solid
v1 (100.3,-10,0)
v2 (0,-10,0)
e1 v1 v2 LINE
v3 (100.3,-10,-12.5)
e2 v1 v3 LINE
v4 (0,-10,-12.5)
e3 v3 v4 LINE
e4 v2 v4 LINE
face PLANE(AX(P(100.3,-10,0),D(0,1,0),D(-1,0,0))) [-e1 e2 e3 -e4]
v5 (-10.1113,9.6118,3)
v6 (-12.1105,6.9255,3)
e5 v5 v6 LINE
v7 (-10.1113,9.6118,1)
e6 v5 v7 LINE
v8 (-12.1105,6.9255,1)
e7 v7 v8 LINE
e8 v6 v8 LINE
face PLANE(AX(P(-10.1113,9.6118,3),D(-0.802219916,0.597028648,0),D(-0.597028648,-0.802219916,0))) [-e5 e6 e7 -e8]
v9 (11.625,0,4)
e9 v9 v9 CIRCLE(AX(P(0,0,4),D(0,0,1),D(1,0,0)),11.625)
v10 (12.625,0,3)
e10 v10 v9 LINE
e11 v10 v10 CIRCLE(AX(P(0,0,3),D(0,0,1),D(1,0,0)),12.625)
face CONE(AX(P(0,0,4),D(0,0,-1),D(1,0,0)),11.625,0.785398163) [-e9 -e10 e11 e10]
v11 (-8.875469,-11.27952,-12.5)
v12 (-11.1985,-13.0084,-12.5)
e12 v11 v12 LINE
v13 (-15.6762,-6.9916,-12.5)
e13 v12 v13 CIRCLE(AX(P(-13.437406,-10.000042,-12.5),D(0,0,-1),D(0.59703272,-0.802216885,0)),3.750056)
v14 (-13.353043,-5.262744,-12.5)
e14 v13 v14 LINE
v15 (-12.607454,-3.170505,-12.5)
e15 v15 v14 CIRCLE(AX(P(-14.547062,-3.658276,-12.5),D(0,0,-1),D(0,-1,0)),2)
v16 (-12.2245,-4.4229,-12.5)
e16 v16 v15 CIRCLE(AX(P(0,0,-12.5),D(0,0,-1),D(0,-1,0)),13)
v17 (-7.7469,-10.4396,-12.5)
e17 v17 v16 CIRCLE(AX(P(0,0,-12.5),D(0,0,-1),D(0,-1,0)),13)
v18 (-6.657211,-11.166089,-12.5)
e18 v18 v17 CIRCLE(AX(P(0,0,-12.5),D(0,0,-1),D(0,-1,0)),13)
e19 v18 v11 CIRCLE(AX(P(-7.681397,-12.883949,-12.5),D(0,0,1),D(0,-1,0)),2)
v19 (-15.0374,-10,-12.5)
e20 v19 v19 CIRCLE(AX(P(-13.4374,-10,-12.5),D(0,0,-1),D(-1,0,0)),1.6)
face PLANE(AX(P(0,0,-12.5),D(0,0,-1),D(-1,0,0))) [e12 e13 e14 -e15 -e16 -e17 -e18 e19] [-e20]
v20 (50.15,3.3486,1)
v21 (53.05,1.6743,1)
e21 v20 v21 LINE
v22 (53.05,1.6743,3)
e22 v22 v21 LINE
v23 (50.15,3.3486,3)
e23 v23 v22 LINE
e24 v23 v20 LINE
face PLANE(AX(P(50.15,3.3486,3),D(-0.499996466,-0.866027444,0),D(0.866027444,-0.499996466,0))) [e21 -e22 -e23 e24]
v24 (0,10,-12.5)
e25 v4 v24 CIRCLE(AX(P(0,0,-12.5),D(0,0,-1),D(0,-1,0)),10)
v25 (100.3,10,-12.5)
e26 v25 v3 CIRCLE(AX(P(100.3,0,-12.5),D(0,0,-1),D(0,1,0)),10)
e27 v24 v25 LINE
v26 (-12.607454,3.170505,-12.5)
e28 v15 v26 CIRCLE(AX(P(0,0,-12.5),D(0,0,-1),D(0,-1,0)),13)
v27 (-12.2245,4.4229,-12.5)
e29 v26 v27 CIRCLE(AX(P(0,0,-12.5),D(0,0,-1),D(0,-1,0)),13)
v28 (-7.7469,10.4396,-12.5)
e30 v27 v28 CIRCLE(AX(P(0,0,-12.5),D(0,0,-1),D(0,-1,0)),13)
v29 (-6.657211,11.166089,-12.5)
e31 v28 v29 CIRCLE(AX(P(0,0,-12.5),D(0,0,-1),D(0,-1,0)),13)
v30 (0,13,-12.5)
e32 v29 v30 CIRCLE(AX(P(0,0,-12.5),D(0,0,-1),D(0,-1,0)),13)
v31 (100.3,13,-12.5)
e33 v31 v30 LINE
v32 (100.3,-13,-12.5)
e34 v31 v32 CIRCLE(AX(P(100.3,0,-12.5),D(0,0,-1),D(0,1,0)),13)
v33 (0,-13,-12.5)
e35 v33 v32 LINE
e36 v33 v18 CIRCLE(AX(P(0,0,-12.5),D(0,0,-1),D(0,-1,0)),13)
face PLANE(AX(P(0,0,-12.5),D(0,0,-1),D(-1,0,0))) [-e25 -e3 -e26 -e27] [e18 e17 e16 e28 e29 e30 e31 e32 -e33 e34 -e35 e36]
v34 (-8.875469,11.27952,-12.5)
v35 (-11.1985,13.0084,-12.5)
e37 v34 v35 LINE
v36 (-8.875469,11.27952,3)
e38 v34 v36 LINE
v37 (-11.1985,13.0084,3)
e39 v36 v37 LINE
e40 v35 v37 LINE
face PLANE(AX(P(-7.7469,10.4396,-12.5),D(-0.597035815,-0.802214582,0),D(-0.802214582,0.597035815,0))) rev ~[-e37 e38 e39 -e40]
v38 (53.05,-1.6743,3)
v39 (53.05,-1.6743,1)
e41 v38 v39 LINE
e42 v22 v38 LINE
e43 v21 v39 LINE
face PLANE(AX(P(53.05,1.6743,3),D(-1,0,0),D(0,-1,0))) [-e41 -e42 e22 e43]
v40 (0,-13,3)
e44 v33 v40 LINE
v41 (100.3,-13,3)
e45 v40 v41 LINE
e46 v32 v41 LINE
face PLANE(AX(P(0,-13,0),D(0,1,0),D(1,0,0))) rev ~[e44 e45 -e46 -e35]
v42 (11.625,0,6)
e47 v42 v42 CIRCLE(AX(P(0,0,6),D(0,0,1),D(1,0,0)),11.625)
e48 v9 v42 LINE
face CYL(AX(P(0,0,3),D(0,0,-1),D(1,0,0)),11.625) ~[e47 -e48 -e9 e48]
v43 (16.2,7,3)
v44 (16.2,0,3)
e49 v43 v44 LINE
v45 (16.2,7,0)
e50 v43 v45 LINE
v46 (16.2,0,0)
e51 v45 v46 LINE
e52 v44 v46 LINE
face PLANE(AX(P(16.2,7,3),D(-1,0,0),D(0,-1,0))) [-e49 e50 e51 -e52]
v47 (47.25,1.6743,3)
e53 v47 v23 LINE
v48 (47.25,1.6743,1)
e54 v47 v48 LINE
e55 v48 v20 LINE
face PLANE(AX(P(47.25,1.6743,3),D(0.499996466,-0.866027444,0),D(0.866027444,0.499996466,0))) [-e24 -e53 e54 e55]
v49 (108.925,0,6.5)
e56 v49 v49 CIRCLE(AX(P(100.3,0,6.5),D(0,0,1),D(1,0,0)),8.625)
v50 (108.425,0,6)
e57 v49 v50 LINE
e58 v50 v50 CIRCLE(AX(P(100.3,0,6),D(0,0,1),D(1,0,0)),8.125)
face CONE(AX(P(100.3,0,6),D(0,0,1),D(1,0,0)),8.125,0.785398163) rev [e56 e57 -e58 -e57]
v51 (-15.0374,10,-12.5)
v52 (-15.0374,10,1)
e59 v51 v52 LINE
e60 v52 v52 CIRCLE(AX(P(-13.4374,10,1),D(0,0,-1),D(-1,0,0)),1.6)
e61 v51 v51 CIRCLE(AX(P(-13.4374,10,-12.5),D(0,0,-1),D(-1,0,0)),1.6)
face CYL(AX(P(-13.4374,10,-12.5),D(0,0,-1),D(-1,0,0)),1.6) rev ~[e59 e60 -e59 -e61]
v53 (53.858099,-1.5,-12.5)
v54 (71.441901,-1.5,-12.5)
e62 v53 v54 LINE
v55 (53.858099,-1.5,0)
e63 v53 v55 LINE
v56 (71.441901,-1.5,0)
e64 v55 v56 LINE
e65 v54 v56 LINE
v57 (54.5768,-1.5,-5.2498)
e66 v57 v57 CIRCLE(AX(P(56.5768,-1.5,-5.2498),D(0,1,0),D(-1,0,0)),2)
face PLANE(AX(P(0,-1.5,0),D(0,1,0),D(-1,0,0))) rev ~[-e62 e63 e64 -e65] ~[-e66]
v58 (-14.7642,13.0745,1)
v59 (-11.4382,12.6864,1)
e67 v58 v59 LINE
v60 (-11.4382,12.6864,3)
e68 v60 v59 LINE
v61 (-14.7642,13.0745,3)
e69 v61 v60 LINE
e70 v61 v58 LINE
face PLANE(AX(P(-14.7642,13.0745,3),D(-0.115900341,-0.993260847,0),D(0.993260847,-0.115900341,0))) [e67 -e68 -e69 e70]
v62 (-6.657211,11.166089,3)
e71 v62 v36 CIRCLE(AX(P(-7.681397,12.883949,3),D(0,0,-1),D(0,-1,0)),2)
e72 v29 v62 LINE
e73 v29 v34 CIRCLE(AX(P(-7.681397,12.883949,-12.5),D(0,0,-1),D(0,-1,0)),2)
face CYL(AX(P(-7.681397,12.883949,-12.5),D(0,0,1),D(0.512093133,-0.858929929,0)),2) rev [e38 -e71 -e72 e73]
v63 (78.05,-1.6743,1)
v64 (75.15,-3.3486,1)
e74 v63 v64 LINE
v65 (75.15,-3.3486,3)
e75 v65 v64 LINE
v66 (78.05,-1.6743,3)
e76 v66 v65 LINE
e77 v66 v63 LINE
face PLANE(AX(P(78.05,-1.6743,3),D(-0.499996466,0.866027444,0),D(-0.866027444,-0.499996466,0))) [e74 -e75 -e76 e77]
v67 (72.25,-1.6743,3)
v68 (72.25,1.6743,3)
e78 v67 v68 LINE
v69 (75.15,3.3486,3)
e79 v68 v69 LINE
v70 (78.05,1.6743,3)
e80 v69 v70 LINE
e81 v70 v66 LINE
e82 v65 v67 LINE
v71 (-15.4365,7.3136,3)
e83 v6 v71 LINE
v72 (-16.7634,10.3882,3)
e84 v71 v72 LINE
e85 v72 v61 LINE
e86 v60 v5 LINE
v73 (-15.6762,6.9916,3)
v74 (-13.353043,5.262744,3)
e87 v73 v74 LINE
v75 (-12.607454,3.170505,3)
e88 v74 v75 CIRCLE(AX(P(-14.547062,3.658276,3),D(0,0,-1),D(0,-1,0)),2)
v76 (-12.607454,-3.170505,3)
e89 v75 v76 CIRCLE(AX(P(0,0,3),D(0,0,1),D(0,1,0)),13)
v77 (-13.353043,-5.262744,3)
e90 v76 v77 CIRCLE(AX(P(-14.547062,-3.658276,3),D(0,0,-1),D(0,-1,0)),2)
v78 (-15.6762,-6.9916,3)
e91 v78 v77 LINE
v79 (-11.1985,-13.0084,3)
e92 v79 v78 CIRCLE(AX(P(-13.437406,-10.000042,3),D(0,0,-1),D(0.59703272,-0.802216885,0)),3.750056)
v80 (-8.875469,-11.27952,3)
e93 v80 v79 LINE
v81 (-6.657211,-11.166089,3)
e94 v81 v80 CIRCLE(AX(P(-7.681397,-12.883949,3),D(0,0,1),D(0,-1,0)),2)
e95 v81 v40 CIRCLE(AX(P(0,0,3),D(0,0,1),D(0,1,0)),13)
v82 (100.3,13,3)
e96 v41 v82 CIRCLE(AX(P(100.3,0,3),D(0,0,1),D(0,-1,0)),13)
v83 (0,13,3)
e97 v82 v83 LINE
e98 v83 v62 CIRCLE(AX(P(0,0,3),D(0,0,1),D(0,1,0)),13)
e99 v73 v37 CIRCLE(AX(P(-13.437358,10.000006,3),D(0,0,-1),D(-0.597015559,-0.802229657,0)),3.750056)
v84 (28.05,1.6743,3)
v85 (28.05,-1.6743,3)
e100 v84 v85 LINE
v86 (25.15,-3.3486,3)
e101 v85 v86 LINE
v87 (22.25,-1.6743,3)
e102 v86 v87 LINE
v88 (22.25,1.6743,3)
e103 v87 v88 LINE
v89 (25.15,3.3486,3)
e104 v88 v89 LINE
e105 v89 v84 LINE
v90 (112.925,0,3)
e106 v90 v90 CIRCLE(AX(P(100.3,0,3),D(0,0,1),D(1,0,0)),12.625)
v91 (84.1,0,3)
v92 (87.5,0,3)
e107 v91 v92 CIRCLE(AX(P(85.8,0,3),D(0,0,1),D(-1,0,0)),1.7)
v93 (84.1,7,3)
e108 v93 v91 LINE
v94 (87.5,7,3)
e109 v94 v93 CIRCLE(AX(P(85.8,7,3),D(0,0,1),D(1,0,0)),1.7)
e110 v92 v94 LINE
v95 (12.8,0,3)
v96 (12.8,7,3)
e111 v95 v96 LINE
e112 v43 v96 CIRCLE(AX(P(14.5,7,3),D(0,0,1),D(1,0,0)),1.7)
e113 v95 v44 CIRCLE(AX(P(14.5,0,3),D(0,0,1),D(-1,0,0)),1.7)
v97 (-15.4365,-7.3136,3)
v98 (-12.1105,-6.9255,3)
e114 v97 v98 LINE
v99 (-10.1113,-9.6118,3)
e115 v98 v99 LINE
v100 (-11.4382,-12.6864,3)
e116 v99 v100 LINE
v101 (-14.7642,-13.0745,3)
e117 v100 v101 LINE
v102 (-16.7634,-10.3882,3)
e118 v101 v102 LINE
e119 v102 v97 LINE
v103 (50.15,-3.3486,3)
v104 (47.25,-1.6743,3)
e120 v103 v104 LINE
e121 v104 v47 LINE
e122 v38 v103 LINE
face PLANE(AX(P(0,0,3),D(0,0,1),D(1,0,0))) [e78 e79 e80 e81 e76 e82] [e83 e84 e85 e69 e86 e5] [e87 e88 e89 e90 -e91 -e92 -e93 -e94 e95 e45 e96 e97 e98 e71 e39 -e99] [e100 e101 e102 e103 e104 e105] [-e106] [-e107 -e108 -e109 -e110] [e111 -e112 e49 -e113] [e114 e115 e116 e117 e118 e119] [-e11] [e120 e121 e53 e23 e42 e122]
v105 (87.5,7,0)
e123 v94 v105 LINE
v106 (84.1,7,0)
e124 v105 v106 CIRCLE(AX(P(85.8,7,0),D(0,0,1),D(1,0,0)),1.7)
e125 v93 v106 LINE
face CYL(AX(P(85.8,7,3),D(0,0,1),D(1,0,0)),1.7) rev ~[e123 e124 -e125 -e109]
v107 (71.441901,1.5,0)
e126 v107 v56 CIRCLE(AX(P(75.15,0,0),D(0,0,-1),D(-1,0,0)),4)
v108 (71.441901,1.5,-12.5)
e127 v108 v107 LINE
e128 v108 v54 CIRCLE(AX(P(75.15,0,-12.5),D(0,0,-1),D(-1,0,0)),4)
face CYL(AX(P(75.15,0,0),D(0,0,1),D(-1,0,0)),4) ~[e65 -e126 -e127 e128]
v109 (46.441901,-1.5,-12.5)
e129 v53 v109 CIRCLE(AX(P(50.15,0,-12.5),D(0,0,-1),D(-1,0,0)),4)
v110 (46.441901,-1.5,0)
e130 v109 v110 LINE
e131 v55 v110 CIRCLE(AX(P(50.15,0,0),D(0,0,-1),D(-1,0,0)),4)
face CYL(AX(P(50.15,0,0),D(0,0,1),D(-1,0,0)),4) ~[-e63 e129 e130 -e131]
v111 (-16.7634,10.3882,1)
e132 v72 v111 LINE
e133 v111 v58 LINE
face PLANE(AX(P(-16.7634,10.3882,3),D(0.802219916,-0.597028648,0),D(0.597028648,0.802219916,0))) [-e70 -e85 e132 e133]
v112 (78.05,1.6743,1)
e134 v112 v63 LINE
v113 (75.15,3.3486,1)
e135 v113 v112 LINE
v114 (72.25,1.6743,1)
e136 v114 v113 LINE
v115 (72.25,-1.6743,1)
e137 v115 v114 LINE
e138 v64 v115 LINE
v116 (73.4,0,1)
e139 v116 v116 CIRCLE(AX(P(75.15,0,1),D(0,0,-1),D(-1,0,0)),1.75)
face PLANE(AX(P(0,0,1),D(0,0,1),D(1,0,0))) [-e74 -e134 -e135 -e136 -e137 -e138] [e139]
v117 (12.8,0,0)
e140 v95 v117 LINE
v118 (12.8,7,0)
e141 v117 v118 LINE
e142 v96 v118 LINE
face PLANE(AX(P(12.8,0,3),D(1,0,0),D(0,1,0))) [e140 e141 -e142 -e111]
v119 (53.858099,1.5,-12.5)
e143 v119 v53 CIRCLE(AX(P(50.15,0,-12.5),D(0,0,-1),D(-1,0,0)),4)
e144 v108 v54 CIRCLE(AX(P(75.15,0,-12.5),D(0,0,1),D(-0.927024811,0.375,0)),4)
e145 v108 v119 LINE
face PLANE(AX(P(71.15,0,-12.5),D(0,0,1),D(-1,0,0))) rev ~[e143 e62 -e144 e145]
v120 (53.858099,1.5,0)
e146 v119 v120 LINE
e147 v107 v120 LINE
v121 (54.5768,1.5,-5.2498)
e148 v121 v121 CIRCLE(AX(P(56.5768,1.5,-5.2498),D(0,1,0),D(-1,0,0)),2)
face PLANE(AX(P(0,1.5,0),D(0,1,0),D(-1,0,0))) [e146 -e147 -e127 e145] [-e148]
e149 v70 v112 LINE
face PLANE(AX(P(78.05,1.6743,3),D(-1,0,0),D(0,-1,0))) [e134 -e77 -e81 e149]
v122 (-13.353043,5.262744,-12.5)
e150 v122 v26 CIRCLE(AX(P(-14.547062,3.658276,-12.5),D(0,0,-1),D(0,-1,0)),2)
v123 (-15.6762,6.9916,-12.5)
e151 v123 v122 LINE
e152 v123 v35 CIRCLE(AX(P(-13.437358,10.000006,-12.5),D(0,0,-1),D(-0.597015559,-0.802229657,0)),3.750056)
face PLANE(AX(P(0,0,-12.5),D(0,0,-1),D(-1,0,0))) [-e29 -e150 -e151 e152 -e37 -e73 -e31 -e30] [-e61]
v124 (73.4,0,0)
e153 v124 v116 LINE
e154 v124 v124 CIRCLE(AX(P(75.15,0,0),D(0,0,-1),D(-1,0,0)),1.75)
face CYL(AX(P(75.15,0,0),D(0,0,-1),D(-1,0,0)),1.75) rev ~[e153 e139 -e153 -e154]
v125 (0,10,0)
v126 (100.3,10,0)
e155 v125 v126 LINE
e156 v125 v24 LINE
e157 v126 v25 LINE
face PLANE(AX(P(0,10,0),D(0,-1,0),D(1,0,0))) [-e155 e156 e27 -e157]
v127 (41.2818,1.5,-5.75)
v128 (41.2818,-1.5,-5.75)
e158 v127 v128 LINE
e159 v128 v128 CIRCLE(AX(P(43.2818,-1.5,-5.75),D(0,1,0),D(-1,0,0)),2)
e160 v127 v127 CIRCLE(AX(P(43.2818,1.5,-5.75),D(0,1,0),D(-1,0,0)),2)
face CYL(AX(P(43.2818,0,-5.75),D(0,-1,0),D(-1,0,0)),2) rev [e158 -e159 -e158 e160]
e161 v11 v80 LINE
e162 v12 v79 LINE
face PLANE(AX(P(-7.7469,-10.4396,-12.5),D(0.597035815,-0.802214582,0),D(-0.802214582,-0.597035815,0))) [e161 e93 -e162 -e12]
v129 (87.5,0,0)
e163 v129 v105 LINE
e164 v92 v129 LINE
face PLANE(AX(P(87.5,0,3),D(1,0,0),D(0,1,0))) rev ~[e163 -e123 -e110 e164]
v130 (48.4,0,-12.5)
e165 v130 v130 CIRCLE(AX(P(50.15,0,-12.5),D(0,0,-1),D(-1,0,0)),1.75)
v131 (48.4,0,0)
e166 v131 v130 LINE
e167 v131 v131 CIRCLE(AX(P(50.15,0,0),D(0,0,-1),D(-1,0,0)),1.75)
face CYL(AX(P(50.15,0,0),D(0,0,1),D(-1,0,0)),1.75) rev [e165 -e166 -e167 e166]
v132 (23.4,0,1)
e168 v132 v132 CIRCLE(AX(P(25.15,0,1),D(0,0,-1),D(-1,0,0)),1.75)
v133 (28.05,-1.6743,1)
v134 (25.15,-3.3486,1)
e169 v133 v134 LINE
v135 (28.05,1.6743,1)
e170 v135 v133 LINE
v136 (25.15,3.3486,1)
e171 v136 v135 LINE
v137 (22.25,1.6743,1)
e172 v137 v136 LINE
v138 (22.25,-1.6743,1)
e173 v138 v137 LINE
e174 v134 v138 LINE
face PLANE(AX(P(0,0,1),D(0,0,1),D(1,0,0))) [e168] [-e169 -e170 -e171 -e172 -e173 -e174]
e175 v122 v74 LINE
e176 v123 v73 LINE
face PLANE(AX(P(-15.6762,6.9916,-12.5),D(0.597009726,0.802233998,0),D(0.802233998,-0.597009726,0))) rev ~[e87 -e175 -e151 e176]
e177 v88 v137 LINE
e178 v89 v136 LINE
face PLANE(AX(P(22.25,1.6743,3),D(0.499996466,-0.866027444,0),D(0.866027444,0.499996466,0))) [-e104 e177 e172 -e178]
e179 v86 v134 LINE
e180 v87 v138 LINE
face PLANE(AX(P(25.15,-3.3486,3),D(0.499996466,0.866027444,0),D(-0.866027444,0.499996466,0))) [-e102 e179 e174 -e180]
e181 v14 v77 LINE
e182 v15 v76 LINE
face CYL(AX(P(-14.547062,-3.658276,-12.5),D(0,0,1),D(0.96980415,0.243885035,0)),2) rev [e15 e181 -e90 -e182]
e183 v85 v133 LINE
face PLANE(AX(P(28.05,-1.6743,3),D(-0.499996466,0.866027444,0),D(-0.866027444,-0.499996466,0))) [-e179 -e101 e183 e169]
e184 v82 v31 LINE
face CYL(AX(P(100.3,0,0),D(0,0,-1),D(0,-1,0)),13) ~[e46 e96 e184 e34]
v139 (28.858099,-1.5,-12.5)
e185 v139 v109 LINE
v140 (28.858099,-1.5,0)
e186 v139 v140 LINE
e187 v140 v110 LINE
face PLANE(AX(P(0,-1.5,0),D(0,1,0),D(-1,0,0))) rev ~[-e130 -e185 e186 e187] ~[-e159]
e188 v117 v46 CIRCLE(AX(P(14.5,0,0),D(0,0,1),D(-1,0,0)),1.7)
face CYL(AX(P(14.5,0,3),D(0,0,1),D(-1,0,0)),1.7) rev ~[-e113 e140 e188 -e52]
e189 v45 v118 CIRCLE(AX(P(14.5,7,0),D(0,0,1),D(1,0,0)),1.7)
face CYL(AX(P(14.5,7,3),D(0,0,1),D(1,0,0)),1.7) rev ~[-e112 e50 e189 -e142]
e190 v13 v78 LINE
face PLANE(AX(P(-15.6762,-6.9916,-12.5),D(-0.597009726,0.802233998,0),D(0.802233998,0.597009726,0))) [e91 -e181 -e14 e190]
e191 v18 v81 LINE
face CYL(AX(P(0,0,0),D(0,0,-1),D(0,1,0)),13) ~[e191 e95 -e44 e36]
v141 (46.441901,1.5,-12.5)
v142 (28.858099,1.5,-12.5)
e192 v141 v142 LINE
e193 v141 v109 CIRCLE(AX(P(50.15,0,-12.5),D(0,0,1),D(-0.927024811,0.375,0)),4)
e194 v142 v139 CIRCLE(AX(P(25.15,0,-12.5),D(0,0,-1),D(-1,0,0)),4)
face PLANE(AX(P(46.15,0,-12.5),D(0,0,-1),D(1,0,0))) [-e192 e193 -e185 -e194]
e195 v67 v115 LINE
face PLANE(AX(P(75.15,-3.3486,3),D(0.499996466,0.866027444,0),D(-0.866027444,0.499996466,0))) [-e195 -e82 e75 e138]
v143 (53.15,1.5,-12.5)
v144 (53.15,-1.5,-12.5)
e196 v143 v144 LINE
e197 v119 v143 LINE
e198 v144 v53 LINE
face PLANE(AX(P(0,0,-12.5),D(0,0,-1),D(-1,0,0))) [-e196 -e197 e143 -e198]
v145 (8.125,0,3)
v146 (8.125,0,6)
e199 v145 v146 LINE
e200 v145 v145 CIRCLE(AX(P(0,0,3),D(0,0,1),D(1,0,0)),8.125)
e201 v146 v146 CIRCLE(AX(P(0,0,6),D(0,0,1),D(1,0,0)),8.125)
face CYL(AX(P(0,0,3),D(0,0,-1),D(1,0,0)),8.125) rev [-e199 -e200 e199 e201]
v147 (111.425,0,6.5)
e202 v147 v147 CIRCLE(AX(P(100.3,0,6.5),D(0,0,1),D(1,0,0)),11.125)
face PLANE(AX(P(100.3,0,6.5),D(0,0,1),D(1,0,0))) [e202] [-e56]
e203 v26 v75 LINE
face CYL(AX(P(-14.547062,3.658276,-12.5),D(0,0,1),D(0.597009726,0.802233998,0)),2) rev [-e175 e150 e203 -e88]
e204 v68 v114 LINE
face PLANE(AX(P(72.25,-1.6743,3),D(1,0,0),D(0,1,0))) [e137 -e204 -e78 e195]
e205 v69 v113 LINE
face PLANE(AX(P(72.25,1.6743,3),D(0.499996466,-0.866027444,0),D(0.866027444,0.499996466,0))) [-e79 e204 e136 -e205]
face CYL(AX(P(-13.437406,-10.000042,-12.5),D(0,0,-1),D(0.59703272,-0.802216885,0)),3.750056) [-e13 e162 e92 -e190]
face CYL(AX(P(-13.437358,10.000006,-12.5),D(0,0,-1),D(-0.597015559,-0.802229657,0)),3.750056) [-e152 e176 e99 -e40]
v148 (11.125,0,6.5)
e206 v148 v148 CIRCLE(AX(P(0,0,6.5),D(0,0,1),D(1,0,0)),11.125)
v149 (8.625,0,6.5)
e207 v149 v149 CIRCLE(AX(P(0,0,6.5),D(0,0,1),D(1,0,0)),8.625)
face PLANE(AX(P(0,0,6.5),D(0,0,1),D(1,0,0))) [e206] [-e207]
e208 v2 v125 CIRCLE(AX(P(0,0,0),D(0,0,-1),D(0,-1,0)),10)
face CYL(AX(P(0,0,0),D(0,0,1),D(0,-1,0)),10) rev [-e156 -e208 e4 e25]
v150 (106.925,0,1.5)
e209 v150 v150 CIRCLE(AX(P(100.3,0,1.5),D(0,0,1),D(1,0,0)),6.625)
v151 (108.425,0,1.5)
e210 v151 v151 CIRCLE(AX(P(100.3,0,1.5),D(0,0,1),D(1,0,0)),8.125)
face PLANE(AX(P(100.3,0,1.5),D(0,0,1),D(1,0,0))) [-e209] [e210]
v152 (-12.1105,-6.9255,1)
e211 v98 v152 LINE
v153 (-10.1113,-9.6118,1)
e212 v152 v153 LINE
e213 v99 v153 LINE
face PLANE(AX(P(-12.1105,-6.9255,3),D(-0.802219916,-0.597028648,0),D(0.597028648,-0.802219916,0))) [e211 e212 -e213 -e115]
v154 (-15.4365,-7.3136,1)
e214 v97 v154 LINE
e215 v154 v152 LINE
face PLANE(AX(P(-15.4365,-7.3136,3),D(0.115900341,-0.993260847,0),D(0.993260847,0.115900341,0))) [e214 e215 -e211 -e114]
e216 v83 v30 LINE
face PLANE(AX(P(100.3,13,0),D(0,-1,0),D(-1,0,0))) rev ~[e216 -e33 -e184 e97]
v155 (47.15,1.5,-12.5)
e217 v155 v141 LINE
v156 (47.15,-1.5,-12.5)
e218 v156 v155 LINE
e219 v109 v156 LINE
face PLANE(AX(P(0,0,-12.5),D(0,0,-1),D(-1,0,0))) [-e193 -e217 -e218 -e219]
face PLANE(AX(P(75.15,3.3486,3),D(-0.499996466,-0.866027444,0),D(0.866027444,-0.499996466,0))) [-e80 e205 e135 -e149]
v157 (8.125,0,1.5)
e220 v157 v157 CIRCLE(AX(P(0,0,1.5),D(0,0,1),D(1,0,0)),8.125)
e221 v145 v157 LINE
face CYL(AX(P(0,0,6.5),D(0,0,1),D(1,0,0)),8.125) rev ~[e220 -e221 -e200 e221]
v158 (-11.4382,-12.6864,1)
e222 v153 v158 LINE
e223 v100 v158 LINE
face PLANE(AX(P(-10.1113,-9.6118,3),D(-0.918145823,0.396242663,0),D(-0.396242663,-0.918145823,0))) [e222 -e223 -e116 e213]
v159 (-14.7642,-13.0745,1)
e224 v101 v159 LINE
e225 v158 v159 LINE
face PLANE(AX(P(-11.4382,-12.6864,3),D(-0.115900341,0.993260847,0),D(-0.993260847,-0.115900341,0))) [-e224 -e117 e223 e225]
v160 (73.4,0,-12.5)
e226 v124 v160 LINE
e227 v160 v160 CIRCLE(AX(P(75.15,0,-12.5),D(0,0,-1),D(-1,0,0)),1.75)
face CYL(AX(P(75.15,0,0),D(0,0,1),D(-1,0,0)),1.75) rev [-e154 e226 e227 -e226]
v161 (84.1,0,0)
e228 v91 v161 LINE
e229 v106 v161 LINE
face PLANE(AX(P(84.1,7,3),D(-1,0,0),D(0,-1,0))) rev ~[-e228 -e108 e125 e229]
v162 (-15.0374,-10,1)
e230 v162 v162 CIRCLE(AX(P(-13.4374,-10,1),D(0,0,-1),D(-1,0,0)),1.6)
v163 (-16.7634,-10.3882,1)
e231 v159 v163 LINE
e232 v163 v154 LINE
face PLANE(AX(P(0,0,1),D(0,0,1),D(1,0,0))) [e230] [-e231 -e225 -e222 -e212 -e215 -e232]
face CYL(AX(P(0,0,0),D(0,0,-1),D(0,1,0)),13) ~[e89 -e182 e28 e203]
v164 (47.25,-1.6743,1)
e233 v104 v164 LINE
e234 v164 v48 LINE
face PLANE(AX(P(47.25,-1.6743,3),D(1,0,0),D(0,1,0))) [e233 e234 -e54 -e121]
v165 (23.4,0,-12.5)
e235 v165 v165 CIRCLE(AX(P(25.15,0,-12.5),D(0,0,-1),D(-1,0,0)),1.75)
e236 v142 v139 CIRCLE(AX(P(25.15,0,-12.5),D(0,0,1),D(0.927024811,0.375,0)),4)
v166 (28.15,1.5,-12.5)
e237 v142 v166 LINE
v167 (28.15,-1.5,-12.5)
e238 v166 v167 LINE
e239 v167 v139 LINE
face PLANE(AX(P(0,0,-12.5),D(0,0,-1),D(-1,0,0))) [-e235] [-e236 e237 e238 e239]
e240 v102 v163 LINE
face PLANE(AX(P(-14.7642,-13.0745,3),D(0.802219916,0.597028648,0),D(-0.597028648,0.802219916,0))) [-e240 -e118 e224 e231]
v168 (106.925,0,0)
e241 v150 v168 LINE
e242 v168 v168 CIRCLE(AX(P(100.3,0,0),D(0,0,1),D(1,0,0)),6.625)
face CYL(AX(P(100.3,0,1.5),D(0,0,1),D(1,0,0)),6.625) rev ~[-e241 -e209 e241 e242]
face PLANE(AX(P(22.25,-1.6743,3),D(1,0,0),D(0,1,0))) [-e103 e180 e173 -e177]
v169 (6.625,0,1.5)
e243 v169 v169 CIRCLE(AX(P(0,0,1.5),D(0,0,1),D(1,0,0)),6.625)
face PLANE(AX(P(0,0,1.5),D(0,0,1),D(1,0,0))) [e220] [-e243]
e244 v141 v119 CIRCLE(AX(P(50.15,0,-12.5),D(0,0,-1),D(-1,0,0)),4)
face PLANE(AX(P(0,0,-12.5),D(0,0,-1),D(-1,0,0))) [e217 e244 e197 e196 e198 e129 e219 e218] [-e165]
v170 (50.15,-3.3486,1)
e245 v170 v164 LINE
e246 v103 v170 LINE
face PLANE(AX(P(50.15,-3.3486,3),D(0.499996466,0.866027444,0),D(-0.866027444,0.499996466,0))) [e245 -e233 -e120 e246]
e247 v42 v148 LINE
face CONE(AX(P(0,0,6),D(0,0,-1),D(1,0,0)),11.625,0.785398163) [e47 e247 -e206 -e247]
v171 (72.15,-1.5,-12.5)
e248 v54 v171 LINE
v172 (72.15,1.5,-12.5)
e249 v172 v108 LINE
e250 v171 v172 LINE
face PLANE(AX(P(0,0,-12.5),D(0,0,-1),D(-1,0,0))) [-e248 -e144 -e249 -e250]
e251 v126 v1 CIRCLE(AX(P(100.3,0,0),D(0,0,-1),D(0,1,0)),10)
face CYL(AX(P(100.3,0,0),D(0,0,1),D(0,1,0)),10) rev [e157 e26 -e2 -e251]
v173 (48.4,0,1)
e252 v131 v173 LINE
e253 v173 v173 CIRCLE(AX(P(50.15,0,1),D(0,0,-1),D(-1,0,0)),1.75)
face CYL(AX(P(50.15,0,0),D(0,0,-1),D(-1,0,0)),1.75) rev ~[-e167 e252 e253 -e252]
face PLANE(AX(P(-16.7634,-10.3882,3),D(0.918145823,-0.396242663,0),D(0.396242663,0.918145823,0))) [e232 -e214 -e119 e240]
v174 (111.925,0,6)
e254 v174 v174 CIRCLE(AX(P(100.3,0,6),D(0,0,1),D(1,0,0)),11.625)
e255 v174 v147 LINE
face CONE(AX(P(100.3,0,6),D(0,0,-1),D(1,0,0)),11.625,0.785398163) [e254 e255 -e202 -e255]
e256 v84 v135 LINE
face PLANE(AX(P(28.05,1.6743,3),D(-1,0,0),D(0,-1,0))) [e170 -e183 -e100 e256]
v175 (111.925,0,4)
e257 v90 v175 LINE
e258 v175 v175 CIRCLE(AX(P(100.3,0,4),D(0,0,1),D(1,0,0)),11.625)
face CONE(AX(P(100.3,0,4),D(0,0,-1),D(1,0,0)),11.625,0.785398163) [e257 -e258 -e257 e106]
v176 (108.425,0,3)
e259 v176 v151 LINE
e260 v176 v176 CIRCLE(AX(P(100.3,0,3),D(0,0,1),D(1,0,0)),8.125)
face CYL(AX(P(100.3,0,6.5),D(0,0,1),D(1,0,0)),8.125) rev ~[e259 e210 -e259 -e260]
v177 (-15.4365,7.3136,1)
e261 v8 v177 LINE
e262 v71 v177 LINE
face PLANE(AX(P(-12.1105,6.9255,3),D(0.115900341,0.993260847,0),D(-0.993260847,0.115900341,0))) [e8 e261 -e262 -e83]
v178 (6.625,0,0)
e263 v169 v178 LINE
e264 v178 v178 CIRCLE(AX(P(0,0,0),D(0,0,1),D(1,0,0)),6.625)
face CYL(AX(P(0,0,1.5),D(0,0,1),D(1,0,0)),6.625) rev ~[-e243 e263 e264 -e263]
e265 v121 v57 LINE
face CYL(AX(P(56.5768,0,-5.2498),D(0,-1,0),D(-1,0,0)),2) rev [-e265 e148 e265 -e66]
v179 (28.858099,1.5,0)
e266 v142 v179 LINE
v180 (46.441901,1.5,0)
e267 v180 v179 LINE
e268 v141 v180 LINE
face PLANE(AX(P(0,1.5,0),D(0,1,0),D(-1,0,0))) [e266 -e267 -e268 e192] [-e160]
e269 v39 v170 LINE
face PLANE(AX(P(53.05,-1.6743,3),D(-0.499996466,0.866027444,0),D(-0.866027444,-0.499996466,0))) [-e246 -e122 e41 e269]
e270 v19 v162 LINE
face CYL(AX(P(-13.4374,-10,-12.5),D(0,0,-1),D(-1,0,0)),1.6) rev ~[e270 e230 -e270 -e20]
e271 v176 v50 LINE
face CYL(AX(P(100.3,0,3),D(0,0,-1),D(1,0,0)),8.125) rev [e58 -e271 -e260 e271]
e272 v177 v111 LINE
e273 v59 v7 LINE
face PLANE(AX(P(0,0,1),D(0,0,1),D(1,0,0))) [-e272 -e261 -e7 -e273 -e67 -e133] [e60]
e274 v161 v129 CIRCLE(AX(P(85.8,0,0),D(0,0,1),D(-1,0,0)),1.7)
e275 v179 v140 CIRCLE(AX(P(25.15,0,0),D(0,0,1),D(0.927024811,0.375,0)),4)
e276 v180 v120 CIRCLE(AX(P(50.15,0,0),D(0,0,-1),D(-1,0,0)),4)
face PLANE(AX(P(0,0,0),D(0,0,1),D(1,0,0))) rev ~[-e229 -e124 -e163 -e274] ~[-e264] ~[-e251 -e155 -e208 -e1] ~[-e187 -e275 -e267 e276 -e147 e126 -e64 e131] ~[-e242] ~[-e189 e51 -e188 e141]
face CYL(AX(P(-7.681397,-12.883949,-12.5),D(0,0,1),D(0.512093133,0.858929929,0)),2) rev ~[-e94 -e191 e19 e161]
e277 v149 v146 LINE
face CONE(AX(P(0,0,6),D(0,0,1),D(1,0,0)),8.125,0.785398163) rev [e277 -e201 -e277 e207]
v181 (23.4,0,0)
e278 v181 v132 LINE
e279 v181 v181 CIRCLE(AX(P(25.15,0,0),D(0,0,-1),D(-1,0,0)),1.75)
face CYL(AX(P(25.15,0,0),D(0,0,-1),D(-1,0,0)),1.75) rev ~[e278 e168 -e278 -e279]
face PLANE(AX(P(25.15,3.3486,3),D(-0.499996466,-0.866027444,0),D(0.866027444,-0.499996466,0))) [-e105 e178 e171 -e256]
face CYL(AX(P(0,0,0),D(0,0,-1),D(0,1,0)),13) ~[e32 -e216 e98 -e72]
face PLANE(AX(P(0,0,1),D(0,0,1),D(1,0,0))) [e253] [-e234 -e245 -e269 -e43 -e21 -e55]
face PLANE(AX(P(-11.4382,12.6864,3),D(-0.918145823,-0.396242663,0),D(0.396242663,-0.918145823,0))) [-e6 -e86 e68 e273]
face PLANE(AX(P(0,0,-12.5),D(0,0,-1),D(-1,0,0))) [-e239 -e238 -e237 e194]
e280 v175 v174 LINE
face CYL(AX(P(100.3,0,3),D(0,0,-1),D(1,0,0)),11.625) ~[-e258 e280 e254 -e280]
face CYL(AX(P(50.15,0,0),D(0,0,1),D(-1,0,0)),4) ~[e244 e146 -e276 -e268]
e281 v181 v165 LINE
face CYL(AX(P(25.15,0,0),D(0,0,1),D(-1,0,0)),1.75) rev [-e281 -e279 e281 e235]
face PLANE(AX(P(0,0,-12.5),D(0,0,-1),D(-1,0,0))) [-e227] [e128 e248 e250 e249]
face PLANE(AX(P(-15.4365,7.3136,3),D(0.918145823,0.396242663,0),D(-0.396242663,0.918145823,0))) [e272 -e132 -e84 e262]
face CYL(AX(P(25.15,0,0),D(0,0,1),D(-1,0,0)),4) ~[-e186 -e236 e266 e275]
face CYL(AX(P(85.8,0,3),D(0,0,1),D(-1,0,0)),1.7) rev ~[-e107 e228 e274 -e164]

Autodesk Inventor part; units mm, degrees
ref_plane "YZ Plane" through (0, 0, 0) normal (1, 0, 0) x (0, 1, 0)
ref_plane "XZ Plane" through (0, 0, 0) normal (0, 1, 0) x (-1, 0, 0)
ref_plane "XY Plane" through (0, 0, 0) normal (0, 0, 1) x (1, 0, 0)
sketch "Sketch1" plane through (0, 0, 0) normal (0, 0, 1) x (1, 0, 0)
  line L0 (0, 0) -> (100.3, 0) construction
  line L1 (0, -13) -> (100.3, -13)
  line L2 (100.3, 13) -> (0, 13)
  arc A0 (0, 13) -> (0, -13) centre (0, 0) ccw
  arc A1 (100.3, -13) -> (100.3, 13) centre (100.3, 0) ccw
  point P0 (50.15, 0)
  dimension "d0" = 100.3
  dimension "d1" = 13
extrude "Extrusion1" add sketch "Sketch1" along normal blind 3
sketch "Sketch2" plane through (0, 0, 0) normal (0, 0, -1) x (-1, 0, 0)
  line L0 (-100.3, 13) -> (0, 13) projected
  arc A0 (-100.3, 13) -> (-100.3, -13) centre (-100.3, 0) ccw projected
  line L1 (0, -13) -> (-100.3, -13) projected
  arc A1 (0, -13) -> (0, 13) centre (0, 0) ccw projected
  line L2 (0, 10) -> (-100.3, 10)
  arc A2 (-100.3, 10) -> (-100.3, -10) centre (-100.3, 0) ccw
  line L3 (-100.3, -10) -> (0, -10)
  arc A3 (0, -10) -> (0, 10) centre (0, 0) ccw
  point P0 (-94.4322, -13)
  dimension "d17" = 3
extrude "Extrusion2" add sketch "Sketch2" along normal blind 12.5
sketch "Sketch5" plane through (0, 0, 0) normal (0, 0, -1) x (-1, 0, 0)
  circle A0 centre (0, 0) radius 3
  arc A1 (-100.3, 13) -> (-100.3, -13) centre (-100.3, 0) ccw projected
  circle A2 centre (-100.3, 0) radius 3
  dimension "d14" = 6
extrude "Extrusion5" cut sketch "Sketch5" against normal through all
sketch "Sketch6" plane through (0, 0, 3) normal (0, 0, 1) x (1, 0, 0)
  circle A0 centre (0, 0) radius 8.125
  circle A1 centre (0, 0) radius 11.625
  dimension "d18" = 16.25
  dimension "d19" = 3.5
extrude "Extrusion6" add sketch "Sketch6" along normal blind 3.5
sketch "Sketch7" plane through (0, 0, 6.5) normal (0, 0, 1) x (1, 0, 0)
  circle A0 centre (0, 0) radius 8.125 projected
extrude "Extrusion7" cut sketch "Sketch7" against normal blind 5
chamfer "Chamfer1" distance 1 angle 45 1 edges at (-11.625, 0, 3)
sketch "Sketch8" plane through (0, 0, 1.5) normal (0, 0, 1) x (1, 0, 0)
  circle A0 centre (0, 0) radius 8.125 projected
  circle A1 centre (0, 0) radius 6.625
  dimension "d27" = 1.5
extrude "Extrusion8" cut sketch "Sketch8" against normal through all contours A1
sketch "Sketch9" plane through (0, 0, 0) normal (0, 0, -1) x (-1, 0, 0)
  circle A0 centre (-100.3, 0) radius 3 projected
  circle A1 centre (0, 0) radius 3 projected
  line L0 (-100.3, 0) -> (0, 0) construction
  circle A2 centre (-75.15, 0) radius 4
  circle A3 centre (-75.15, 0) radius 1.75
  circle A4 centre (-50.15, 0) radius 4
  circle A5 centre (-50.15, 0) radius 1.75
  circle A6 centre (-25.15, 0) radius 4
  circle A7 centre (-25.15, 0) radius 1.75
  dimension "d30" = 3.5
  dimension "d31" = 8
  dimension "d42" = 25
  dimension "d67" = 25
extrude "Extrusion9" add sketch "Sketch9" along normal up to surface (12.5 mm away) contours A2 | A4 | A6
sketch "Sketch10" plane through (0, 0, 0) normal (0, 1, 0) x (-1, 0, 0)
  line L0 (-71.15, 0) -> (-71.15, -12.5) projected
  line L1 (-54.15, 0) -> (-54.15, -12.5) projected
  line L2 (-46.15, 0) -> (-46.15, -12.5) projected
  line L3 (-29.15, 0) -> (-29.15, -12.5) projected
  line L4 (-71.15, -12.5) -> (-79.15, -12.5) projected
  line L5 (-71.15, -12.5) -> (-54.15, -12.5)
  line L6 (-46.15, -12.5) -> (-29.15, -12.5)
  line L7 (-46.15, 0) -> (-54.15, 0) projected
  line L8 (-29.15, 0) -> (-46.15, 0)
  line L9 (-71.15, 0) -> (-79.15, 0) projected
  line L10 (-54.15, 0) -> (-71.15, 0)
  line L11 (-71.15, -12.5) -> (-72.15, -12.5)
  line L12 (-72.15, -12.5) -> (-72.15, 0)
  line L13 (-71.15, 0) -> (-72.15, 0)
  line L14 (-46.15, -12.5) -> (-54.15, -12.5) projected
  line L15 (-54.15, -12.5) -> (-53.15, -12.5)
  line L16 (-53.15, -12.5) -> (-53.15, 0.1572)
  line L17 (-53.15, 0.1572) -> (-54.15, 0)
  line L18 (-46.15, 0) -> (-47.15, 0)
  line L19 (-46.15, -12.5) -> (-47.15, -12.5)
  line L20 (-47.15, -12.5) -> (-47.15, 0)
  line L21 (-29.15, -12.5) -> (-28.15, -12.5)
  line L22 (-28.15, -12.5) -> (-28.15, 0)
  line L23 (-21.15, 0) -> (-29.15, 0) projected
  line L24 (-28.15, 0) -> (-29.15, 0)
  line L25 (-29.15, 0) -> (-28.15, 0)
  circle A0 centre (-73.4335, -3.2498) radius 2
  circle A1 centre (-56.5768, -5.2498) radius 2
  circle A2 centre (-26.4602, -5.2498) radius 2
  circle A3 centre (-43.2818, -5.75) radius 2
  point P0 (0, 0)
  point P1 (-53.15, 0)
  dimension "d38" = 1
  dimension "d39" = 1
  dimension "d40" = 1
  dimension "d41" = 1
  dimension "d50" = 4
  dimension "d51" = 4
  dimension "d52" = 4
  dimension "d53" = 4
extrude "Extrusion10" add sketch "Sketch10" along normal mid plane 3 contours L10 L1 L5 L0 | L0 L4 L12 A0 L9 | L7 L16 L14 L1 | A0 L12 | L7 L2 L14 L20 | L8 L3 L6 L2 | L23 L22 A2 L21 L3 | L22 A2 picked at (-72.0493, -2.8434) picked at (-28.2155, -5.0283)
pattern_linear "Rectangular Pattern1" count 2 spacing 100.3 along (1, 0, 0) of "Extrusion8", "Extrusion6", "Chamfer1", "Extrusion7"
sketch "Sketch11" plane through (0, 0, 3) normal (0, 0, 1) x (1, 0, 0)
  circle A0 centre (100.3, 0) radius 4.8676
  line L0 (100.3, 0) -> (85.8, 0) construction
  line L1 (85.8, 0) -> (85.8, 7) construction
  line L2 (87.5, 0) -> (87.5, 7)
  line L3 (84.1, 7) -> (84.1, 0)
  arc A1 (84.1, 0) -> (87.5, 0) centre (85.8, 0) ccw
  arc A2 (87.5, 7) -> (84.1, 7) centre (85.8, 7) ccw
  line L4 (0, 13) -> (100.3, 13) projected
  line L5 (50.15, 13) -> (50.15, -13) construction
  line L6 (100.3, -13) -> (0, -13) projected
  line L7 (14.5, 0) -> (14.5, 7) construction
  line L8 (12.8, 0) -> (12.8, 7)
  line L9 (16.2, 7) -> (16.2, 0)
  arc A3 (12.8, 0) -> (16.2, 0) centre (14.5, 0) ccw
  arc A4 (16.2, 7) -> (12.8, 7) centre (14.5, 7) ccw
  circle A5 centre (100.3, 0) radius 8.125 projected
  point P0 (0, 0)
  dimension "d47" = 14.5
  dimension "d65" = 1.7
  dimension "d66" = 7
extrude "Extrusion11" cut sketch "Sketch11" against normal up to surface (3 mm away) contours A1 L3 A2 L2 | L8 A4 L9 A3
sketch "Sketch14" plane through (75.15, 0, 0) normal (0, 0, -1) x (-1, 0, 0)
  circle A0 centre (50, 0) radius 1.75 projected
  circle A1 centre (25, 0) radius 1.75 projected
  circle A2 centre (0, 0) radius 1.75 projected
  point P0 (75.15, 0)
extrude "Extrusion13" cut sketch "Sketch14" against normal through all
chamfer "Chamfer2" distance 0.5 angle 45 4 edges at (-8.125, 0, 6.5) (-11.625, 0, 6.5) (92.175, 0, 6.5) (88.675, 0, 6.5)
sketch "Sketch16" plane through (0, 0, -12.5) normal (0, 0, -1) x (-1, 0, 0)
  circle A0 centre (13.4374, -10) radius 1.6
  arc A1 (11.1985, -13.0084) -> (15.6762, -6.9916) centre (13.4374, -10) ccw
  arc A2 (0, -13) -> (0, 13) centre (0, 0) ccw projected
  line L0 (0, 0) -> (13, 0) construction
  line L1 (15.6762, -6.9916) -> (12.2245, -4.4229)
  line L2 (12.2245, -4.4229) -> (7.7469, -10.4396)
  line L3 (7.7469, -10.4396) -> (11.1985, -13.0084)
  circle A3 centre (13.4374, 10) radius 1.6
  arc A4 (15.6762, 6.9916) -> (11.1985, 13.0084) centre (13.4374, 10) ccw
  line L4 (15.6762, 6.9916) -> (12.2245, 4.4229)
  line L5 (12.2245, 4.4229) -> (7.7469, 10.4396)
  line L6 (7.7469, 10.4396) -> (11.1985, 13.0084)
  point P0 (7.7469, 10.4396)
  point P1 (12.2245, 4.4229)
  dimension "d68" = 7.5
  dimension "d69" = 3.2
  dimension "d70" = 10
extrude "Extrusion15" add sketch "Sketch16" against normal up to surface (15.5 mm away) contours L3 A2 L1 A1 | A2 L6 A4 L4
sketch "Sketch15" plane through (0, 0, 3) normal (0, 0, 1) x (1, 0, 0)
  circle A0 centre (75.15, 0) radius 1.75 projected
  line L0 (75.15, -3.3486) -> (72.25, -1.6743)
  line L1 (72.25, -1.6743) -> (72.25, 1.6743)
  line L2 (72.25, 1.6743) -> (75.15, 3.3486)
  line L3 (75.15, 3.3486) -> (78.05, 1.6743)
  line L4 (78.05, 1.6743) -> (78.05, -1.6743)
  line L5 (78.05, -1.6743) -> (75.15, -3.3486)
  circle A1 centre (50.15, 0) radius 1.75 projected
  line L6 (50.15, -3.3486) -> (47.25, -1.6743)
  line L7 (47.25, -1.6743) -> (47.25, 1.6743)
  line L8 (47.25, 1.6743) -> (50.15, 3.3486)
  line L9 (50.15, 3.3486) -> (53.05, 1.6743)
  line L10 (53.05, 1.6743) -> (53.05, -1.6743)
  line L11 (53.05, -1.6743) -> (50.15, -3.3486)
  circle A2 centre (25.15, 0) radius 1.75 projected
  line L12 (25.15, -3.3486) -> (22.25, -1.6743)
  line L13 (22.25, -1.6743) -> (22.25, 1.6743)
  line L14 (22.25, 1.6743) -> (25.15, 3.3486)
  line L15 (25.15, 3.3486) -> (28.05, 1.6743)
  line L16 (28.05, 1.6743) -> (28.05, -1.6743)
  line L17 (28.05, -1.6743) -> (25.15, -3.3486)
  circle A3 centre (-13.4374, 10) radius 1.6 projected
  line L18 (-11.4382, 12.6864) -> (-10.1113, 9.6118)
  line L19 (-10.1113, 9.6118) -> (-12.1105, 6.9255)
  line L20 (-12.1105, 6.9255) -> (-15.4365, 7.3136)
  line L21 (-15.4365, 7.3136) -> (-16.7634, 10.3882)
  line L22 (-16.7634, 10.3882) -> (-14.7642, 13.0745)
  line L23 (-14.7642, 13.0745) -> (-11.4382, 12.6864)
  circle A4 centre (-13.4374, -10) radius 1.6 projected
  line L24 (-11.4382, -12.6864) -> (-14.7642, -13.0745)
  line L25 (-14.7642, -13.0745) -> (-16.7634, -10.3882)
  line L26 (-16.7634, -10.3882) -> (-15.4365, -7.3136)
  line L27 (-15.4365, -7.3136) -> (-12.1105, -6.9255)
  line L28 (-12.1105, -6.9255) -> (-10.1113, -9.6118)
  line L29 (-10.1113, -9.6118) -> (-11.4382, -12.6864)
  line L30 (-11.1985, 13.0084) -> (-7.7469, 10.4396) projected
  line L31 (-7.7469, 10.4396) -> (-12.2245, 4.4229) construction
  line L32 (-15.6762, -6.9916) -> (-12.2245, -4.4229) projected
  line L33 (-7.7469, -10.4396) -> (-11.1985, -13.0084) projected
  line L34 (-12.2245, -4.4229) -> (-7.7469, -10.4396) construction
  point P0 (0, 0)
  dimension "d59" = 5.8
extrude "Extrusion14" cut sketch "Sketch15" against normal blind 2 contours A0 | L0 L1 L2 L3 L4 L5 | A1 | L6 L7 L8 L9 L10 L11 | A2 | L12 L13 L14 L15 L16 L17 | L18 L19 L20 L21 L22 L23 | L24 L25 L26 L27 L28 L29
fillet "Fillet1" radius 2 4 edges at (-7.7469, 10.4396, -4.75) (-12.2245, -4.4229, -4.75) (-12.2245, 4.4229, -4.75) (-7.7469, -10.4396, -4.75)
equation "\"d67\" = d42"
equation "\"d45\" = d0"
properties part number "Scara1"
